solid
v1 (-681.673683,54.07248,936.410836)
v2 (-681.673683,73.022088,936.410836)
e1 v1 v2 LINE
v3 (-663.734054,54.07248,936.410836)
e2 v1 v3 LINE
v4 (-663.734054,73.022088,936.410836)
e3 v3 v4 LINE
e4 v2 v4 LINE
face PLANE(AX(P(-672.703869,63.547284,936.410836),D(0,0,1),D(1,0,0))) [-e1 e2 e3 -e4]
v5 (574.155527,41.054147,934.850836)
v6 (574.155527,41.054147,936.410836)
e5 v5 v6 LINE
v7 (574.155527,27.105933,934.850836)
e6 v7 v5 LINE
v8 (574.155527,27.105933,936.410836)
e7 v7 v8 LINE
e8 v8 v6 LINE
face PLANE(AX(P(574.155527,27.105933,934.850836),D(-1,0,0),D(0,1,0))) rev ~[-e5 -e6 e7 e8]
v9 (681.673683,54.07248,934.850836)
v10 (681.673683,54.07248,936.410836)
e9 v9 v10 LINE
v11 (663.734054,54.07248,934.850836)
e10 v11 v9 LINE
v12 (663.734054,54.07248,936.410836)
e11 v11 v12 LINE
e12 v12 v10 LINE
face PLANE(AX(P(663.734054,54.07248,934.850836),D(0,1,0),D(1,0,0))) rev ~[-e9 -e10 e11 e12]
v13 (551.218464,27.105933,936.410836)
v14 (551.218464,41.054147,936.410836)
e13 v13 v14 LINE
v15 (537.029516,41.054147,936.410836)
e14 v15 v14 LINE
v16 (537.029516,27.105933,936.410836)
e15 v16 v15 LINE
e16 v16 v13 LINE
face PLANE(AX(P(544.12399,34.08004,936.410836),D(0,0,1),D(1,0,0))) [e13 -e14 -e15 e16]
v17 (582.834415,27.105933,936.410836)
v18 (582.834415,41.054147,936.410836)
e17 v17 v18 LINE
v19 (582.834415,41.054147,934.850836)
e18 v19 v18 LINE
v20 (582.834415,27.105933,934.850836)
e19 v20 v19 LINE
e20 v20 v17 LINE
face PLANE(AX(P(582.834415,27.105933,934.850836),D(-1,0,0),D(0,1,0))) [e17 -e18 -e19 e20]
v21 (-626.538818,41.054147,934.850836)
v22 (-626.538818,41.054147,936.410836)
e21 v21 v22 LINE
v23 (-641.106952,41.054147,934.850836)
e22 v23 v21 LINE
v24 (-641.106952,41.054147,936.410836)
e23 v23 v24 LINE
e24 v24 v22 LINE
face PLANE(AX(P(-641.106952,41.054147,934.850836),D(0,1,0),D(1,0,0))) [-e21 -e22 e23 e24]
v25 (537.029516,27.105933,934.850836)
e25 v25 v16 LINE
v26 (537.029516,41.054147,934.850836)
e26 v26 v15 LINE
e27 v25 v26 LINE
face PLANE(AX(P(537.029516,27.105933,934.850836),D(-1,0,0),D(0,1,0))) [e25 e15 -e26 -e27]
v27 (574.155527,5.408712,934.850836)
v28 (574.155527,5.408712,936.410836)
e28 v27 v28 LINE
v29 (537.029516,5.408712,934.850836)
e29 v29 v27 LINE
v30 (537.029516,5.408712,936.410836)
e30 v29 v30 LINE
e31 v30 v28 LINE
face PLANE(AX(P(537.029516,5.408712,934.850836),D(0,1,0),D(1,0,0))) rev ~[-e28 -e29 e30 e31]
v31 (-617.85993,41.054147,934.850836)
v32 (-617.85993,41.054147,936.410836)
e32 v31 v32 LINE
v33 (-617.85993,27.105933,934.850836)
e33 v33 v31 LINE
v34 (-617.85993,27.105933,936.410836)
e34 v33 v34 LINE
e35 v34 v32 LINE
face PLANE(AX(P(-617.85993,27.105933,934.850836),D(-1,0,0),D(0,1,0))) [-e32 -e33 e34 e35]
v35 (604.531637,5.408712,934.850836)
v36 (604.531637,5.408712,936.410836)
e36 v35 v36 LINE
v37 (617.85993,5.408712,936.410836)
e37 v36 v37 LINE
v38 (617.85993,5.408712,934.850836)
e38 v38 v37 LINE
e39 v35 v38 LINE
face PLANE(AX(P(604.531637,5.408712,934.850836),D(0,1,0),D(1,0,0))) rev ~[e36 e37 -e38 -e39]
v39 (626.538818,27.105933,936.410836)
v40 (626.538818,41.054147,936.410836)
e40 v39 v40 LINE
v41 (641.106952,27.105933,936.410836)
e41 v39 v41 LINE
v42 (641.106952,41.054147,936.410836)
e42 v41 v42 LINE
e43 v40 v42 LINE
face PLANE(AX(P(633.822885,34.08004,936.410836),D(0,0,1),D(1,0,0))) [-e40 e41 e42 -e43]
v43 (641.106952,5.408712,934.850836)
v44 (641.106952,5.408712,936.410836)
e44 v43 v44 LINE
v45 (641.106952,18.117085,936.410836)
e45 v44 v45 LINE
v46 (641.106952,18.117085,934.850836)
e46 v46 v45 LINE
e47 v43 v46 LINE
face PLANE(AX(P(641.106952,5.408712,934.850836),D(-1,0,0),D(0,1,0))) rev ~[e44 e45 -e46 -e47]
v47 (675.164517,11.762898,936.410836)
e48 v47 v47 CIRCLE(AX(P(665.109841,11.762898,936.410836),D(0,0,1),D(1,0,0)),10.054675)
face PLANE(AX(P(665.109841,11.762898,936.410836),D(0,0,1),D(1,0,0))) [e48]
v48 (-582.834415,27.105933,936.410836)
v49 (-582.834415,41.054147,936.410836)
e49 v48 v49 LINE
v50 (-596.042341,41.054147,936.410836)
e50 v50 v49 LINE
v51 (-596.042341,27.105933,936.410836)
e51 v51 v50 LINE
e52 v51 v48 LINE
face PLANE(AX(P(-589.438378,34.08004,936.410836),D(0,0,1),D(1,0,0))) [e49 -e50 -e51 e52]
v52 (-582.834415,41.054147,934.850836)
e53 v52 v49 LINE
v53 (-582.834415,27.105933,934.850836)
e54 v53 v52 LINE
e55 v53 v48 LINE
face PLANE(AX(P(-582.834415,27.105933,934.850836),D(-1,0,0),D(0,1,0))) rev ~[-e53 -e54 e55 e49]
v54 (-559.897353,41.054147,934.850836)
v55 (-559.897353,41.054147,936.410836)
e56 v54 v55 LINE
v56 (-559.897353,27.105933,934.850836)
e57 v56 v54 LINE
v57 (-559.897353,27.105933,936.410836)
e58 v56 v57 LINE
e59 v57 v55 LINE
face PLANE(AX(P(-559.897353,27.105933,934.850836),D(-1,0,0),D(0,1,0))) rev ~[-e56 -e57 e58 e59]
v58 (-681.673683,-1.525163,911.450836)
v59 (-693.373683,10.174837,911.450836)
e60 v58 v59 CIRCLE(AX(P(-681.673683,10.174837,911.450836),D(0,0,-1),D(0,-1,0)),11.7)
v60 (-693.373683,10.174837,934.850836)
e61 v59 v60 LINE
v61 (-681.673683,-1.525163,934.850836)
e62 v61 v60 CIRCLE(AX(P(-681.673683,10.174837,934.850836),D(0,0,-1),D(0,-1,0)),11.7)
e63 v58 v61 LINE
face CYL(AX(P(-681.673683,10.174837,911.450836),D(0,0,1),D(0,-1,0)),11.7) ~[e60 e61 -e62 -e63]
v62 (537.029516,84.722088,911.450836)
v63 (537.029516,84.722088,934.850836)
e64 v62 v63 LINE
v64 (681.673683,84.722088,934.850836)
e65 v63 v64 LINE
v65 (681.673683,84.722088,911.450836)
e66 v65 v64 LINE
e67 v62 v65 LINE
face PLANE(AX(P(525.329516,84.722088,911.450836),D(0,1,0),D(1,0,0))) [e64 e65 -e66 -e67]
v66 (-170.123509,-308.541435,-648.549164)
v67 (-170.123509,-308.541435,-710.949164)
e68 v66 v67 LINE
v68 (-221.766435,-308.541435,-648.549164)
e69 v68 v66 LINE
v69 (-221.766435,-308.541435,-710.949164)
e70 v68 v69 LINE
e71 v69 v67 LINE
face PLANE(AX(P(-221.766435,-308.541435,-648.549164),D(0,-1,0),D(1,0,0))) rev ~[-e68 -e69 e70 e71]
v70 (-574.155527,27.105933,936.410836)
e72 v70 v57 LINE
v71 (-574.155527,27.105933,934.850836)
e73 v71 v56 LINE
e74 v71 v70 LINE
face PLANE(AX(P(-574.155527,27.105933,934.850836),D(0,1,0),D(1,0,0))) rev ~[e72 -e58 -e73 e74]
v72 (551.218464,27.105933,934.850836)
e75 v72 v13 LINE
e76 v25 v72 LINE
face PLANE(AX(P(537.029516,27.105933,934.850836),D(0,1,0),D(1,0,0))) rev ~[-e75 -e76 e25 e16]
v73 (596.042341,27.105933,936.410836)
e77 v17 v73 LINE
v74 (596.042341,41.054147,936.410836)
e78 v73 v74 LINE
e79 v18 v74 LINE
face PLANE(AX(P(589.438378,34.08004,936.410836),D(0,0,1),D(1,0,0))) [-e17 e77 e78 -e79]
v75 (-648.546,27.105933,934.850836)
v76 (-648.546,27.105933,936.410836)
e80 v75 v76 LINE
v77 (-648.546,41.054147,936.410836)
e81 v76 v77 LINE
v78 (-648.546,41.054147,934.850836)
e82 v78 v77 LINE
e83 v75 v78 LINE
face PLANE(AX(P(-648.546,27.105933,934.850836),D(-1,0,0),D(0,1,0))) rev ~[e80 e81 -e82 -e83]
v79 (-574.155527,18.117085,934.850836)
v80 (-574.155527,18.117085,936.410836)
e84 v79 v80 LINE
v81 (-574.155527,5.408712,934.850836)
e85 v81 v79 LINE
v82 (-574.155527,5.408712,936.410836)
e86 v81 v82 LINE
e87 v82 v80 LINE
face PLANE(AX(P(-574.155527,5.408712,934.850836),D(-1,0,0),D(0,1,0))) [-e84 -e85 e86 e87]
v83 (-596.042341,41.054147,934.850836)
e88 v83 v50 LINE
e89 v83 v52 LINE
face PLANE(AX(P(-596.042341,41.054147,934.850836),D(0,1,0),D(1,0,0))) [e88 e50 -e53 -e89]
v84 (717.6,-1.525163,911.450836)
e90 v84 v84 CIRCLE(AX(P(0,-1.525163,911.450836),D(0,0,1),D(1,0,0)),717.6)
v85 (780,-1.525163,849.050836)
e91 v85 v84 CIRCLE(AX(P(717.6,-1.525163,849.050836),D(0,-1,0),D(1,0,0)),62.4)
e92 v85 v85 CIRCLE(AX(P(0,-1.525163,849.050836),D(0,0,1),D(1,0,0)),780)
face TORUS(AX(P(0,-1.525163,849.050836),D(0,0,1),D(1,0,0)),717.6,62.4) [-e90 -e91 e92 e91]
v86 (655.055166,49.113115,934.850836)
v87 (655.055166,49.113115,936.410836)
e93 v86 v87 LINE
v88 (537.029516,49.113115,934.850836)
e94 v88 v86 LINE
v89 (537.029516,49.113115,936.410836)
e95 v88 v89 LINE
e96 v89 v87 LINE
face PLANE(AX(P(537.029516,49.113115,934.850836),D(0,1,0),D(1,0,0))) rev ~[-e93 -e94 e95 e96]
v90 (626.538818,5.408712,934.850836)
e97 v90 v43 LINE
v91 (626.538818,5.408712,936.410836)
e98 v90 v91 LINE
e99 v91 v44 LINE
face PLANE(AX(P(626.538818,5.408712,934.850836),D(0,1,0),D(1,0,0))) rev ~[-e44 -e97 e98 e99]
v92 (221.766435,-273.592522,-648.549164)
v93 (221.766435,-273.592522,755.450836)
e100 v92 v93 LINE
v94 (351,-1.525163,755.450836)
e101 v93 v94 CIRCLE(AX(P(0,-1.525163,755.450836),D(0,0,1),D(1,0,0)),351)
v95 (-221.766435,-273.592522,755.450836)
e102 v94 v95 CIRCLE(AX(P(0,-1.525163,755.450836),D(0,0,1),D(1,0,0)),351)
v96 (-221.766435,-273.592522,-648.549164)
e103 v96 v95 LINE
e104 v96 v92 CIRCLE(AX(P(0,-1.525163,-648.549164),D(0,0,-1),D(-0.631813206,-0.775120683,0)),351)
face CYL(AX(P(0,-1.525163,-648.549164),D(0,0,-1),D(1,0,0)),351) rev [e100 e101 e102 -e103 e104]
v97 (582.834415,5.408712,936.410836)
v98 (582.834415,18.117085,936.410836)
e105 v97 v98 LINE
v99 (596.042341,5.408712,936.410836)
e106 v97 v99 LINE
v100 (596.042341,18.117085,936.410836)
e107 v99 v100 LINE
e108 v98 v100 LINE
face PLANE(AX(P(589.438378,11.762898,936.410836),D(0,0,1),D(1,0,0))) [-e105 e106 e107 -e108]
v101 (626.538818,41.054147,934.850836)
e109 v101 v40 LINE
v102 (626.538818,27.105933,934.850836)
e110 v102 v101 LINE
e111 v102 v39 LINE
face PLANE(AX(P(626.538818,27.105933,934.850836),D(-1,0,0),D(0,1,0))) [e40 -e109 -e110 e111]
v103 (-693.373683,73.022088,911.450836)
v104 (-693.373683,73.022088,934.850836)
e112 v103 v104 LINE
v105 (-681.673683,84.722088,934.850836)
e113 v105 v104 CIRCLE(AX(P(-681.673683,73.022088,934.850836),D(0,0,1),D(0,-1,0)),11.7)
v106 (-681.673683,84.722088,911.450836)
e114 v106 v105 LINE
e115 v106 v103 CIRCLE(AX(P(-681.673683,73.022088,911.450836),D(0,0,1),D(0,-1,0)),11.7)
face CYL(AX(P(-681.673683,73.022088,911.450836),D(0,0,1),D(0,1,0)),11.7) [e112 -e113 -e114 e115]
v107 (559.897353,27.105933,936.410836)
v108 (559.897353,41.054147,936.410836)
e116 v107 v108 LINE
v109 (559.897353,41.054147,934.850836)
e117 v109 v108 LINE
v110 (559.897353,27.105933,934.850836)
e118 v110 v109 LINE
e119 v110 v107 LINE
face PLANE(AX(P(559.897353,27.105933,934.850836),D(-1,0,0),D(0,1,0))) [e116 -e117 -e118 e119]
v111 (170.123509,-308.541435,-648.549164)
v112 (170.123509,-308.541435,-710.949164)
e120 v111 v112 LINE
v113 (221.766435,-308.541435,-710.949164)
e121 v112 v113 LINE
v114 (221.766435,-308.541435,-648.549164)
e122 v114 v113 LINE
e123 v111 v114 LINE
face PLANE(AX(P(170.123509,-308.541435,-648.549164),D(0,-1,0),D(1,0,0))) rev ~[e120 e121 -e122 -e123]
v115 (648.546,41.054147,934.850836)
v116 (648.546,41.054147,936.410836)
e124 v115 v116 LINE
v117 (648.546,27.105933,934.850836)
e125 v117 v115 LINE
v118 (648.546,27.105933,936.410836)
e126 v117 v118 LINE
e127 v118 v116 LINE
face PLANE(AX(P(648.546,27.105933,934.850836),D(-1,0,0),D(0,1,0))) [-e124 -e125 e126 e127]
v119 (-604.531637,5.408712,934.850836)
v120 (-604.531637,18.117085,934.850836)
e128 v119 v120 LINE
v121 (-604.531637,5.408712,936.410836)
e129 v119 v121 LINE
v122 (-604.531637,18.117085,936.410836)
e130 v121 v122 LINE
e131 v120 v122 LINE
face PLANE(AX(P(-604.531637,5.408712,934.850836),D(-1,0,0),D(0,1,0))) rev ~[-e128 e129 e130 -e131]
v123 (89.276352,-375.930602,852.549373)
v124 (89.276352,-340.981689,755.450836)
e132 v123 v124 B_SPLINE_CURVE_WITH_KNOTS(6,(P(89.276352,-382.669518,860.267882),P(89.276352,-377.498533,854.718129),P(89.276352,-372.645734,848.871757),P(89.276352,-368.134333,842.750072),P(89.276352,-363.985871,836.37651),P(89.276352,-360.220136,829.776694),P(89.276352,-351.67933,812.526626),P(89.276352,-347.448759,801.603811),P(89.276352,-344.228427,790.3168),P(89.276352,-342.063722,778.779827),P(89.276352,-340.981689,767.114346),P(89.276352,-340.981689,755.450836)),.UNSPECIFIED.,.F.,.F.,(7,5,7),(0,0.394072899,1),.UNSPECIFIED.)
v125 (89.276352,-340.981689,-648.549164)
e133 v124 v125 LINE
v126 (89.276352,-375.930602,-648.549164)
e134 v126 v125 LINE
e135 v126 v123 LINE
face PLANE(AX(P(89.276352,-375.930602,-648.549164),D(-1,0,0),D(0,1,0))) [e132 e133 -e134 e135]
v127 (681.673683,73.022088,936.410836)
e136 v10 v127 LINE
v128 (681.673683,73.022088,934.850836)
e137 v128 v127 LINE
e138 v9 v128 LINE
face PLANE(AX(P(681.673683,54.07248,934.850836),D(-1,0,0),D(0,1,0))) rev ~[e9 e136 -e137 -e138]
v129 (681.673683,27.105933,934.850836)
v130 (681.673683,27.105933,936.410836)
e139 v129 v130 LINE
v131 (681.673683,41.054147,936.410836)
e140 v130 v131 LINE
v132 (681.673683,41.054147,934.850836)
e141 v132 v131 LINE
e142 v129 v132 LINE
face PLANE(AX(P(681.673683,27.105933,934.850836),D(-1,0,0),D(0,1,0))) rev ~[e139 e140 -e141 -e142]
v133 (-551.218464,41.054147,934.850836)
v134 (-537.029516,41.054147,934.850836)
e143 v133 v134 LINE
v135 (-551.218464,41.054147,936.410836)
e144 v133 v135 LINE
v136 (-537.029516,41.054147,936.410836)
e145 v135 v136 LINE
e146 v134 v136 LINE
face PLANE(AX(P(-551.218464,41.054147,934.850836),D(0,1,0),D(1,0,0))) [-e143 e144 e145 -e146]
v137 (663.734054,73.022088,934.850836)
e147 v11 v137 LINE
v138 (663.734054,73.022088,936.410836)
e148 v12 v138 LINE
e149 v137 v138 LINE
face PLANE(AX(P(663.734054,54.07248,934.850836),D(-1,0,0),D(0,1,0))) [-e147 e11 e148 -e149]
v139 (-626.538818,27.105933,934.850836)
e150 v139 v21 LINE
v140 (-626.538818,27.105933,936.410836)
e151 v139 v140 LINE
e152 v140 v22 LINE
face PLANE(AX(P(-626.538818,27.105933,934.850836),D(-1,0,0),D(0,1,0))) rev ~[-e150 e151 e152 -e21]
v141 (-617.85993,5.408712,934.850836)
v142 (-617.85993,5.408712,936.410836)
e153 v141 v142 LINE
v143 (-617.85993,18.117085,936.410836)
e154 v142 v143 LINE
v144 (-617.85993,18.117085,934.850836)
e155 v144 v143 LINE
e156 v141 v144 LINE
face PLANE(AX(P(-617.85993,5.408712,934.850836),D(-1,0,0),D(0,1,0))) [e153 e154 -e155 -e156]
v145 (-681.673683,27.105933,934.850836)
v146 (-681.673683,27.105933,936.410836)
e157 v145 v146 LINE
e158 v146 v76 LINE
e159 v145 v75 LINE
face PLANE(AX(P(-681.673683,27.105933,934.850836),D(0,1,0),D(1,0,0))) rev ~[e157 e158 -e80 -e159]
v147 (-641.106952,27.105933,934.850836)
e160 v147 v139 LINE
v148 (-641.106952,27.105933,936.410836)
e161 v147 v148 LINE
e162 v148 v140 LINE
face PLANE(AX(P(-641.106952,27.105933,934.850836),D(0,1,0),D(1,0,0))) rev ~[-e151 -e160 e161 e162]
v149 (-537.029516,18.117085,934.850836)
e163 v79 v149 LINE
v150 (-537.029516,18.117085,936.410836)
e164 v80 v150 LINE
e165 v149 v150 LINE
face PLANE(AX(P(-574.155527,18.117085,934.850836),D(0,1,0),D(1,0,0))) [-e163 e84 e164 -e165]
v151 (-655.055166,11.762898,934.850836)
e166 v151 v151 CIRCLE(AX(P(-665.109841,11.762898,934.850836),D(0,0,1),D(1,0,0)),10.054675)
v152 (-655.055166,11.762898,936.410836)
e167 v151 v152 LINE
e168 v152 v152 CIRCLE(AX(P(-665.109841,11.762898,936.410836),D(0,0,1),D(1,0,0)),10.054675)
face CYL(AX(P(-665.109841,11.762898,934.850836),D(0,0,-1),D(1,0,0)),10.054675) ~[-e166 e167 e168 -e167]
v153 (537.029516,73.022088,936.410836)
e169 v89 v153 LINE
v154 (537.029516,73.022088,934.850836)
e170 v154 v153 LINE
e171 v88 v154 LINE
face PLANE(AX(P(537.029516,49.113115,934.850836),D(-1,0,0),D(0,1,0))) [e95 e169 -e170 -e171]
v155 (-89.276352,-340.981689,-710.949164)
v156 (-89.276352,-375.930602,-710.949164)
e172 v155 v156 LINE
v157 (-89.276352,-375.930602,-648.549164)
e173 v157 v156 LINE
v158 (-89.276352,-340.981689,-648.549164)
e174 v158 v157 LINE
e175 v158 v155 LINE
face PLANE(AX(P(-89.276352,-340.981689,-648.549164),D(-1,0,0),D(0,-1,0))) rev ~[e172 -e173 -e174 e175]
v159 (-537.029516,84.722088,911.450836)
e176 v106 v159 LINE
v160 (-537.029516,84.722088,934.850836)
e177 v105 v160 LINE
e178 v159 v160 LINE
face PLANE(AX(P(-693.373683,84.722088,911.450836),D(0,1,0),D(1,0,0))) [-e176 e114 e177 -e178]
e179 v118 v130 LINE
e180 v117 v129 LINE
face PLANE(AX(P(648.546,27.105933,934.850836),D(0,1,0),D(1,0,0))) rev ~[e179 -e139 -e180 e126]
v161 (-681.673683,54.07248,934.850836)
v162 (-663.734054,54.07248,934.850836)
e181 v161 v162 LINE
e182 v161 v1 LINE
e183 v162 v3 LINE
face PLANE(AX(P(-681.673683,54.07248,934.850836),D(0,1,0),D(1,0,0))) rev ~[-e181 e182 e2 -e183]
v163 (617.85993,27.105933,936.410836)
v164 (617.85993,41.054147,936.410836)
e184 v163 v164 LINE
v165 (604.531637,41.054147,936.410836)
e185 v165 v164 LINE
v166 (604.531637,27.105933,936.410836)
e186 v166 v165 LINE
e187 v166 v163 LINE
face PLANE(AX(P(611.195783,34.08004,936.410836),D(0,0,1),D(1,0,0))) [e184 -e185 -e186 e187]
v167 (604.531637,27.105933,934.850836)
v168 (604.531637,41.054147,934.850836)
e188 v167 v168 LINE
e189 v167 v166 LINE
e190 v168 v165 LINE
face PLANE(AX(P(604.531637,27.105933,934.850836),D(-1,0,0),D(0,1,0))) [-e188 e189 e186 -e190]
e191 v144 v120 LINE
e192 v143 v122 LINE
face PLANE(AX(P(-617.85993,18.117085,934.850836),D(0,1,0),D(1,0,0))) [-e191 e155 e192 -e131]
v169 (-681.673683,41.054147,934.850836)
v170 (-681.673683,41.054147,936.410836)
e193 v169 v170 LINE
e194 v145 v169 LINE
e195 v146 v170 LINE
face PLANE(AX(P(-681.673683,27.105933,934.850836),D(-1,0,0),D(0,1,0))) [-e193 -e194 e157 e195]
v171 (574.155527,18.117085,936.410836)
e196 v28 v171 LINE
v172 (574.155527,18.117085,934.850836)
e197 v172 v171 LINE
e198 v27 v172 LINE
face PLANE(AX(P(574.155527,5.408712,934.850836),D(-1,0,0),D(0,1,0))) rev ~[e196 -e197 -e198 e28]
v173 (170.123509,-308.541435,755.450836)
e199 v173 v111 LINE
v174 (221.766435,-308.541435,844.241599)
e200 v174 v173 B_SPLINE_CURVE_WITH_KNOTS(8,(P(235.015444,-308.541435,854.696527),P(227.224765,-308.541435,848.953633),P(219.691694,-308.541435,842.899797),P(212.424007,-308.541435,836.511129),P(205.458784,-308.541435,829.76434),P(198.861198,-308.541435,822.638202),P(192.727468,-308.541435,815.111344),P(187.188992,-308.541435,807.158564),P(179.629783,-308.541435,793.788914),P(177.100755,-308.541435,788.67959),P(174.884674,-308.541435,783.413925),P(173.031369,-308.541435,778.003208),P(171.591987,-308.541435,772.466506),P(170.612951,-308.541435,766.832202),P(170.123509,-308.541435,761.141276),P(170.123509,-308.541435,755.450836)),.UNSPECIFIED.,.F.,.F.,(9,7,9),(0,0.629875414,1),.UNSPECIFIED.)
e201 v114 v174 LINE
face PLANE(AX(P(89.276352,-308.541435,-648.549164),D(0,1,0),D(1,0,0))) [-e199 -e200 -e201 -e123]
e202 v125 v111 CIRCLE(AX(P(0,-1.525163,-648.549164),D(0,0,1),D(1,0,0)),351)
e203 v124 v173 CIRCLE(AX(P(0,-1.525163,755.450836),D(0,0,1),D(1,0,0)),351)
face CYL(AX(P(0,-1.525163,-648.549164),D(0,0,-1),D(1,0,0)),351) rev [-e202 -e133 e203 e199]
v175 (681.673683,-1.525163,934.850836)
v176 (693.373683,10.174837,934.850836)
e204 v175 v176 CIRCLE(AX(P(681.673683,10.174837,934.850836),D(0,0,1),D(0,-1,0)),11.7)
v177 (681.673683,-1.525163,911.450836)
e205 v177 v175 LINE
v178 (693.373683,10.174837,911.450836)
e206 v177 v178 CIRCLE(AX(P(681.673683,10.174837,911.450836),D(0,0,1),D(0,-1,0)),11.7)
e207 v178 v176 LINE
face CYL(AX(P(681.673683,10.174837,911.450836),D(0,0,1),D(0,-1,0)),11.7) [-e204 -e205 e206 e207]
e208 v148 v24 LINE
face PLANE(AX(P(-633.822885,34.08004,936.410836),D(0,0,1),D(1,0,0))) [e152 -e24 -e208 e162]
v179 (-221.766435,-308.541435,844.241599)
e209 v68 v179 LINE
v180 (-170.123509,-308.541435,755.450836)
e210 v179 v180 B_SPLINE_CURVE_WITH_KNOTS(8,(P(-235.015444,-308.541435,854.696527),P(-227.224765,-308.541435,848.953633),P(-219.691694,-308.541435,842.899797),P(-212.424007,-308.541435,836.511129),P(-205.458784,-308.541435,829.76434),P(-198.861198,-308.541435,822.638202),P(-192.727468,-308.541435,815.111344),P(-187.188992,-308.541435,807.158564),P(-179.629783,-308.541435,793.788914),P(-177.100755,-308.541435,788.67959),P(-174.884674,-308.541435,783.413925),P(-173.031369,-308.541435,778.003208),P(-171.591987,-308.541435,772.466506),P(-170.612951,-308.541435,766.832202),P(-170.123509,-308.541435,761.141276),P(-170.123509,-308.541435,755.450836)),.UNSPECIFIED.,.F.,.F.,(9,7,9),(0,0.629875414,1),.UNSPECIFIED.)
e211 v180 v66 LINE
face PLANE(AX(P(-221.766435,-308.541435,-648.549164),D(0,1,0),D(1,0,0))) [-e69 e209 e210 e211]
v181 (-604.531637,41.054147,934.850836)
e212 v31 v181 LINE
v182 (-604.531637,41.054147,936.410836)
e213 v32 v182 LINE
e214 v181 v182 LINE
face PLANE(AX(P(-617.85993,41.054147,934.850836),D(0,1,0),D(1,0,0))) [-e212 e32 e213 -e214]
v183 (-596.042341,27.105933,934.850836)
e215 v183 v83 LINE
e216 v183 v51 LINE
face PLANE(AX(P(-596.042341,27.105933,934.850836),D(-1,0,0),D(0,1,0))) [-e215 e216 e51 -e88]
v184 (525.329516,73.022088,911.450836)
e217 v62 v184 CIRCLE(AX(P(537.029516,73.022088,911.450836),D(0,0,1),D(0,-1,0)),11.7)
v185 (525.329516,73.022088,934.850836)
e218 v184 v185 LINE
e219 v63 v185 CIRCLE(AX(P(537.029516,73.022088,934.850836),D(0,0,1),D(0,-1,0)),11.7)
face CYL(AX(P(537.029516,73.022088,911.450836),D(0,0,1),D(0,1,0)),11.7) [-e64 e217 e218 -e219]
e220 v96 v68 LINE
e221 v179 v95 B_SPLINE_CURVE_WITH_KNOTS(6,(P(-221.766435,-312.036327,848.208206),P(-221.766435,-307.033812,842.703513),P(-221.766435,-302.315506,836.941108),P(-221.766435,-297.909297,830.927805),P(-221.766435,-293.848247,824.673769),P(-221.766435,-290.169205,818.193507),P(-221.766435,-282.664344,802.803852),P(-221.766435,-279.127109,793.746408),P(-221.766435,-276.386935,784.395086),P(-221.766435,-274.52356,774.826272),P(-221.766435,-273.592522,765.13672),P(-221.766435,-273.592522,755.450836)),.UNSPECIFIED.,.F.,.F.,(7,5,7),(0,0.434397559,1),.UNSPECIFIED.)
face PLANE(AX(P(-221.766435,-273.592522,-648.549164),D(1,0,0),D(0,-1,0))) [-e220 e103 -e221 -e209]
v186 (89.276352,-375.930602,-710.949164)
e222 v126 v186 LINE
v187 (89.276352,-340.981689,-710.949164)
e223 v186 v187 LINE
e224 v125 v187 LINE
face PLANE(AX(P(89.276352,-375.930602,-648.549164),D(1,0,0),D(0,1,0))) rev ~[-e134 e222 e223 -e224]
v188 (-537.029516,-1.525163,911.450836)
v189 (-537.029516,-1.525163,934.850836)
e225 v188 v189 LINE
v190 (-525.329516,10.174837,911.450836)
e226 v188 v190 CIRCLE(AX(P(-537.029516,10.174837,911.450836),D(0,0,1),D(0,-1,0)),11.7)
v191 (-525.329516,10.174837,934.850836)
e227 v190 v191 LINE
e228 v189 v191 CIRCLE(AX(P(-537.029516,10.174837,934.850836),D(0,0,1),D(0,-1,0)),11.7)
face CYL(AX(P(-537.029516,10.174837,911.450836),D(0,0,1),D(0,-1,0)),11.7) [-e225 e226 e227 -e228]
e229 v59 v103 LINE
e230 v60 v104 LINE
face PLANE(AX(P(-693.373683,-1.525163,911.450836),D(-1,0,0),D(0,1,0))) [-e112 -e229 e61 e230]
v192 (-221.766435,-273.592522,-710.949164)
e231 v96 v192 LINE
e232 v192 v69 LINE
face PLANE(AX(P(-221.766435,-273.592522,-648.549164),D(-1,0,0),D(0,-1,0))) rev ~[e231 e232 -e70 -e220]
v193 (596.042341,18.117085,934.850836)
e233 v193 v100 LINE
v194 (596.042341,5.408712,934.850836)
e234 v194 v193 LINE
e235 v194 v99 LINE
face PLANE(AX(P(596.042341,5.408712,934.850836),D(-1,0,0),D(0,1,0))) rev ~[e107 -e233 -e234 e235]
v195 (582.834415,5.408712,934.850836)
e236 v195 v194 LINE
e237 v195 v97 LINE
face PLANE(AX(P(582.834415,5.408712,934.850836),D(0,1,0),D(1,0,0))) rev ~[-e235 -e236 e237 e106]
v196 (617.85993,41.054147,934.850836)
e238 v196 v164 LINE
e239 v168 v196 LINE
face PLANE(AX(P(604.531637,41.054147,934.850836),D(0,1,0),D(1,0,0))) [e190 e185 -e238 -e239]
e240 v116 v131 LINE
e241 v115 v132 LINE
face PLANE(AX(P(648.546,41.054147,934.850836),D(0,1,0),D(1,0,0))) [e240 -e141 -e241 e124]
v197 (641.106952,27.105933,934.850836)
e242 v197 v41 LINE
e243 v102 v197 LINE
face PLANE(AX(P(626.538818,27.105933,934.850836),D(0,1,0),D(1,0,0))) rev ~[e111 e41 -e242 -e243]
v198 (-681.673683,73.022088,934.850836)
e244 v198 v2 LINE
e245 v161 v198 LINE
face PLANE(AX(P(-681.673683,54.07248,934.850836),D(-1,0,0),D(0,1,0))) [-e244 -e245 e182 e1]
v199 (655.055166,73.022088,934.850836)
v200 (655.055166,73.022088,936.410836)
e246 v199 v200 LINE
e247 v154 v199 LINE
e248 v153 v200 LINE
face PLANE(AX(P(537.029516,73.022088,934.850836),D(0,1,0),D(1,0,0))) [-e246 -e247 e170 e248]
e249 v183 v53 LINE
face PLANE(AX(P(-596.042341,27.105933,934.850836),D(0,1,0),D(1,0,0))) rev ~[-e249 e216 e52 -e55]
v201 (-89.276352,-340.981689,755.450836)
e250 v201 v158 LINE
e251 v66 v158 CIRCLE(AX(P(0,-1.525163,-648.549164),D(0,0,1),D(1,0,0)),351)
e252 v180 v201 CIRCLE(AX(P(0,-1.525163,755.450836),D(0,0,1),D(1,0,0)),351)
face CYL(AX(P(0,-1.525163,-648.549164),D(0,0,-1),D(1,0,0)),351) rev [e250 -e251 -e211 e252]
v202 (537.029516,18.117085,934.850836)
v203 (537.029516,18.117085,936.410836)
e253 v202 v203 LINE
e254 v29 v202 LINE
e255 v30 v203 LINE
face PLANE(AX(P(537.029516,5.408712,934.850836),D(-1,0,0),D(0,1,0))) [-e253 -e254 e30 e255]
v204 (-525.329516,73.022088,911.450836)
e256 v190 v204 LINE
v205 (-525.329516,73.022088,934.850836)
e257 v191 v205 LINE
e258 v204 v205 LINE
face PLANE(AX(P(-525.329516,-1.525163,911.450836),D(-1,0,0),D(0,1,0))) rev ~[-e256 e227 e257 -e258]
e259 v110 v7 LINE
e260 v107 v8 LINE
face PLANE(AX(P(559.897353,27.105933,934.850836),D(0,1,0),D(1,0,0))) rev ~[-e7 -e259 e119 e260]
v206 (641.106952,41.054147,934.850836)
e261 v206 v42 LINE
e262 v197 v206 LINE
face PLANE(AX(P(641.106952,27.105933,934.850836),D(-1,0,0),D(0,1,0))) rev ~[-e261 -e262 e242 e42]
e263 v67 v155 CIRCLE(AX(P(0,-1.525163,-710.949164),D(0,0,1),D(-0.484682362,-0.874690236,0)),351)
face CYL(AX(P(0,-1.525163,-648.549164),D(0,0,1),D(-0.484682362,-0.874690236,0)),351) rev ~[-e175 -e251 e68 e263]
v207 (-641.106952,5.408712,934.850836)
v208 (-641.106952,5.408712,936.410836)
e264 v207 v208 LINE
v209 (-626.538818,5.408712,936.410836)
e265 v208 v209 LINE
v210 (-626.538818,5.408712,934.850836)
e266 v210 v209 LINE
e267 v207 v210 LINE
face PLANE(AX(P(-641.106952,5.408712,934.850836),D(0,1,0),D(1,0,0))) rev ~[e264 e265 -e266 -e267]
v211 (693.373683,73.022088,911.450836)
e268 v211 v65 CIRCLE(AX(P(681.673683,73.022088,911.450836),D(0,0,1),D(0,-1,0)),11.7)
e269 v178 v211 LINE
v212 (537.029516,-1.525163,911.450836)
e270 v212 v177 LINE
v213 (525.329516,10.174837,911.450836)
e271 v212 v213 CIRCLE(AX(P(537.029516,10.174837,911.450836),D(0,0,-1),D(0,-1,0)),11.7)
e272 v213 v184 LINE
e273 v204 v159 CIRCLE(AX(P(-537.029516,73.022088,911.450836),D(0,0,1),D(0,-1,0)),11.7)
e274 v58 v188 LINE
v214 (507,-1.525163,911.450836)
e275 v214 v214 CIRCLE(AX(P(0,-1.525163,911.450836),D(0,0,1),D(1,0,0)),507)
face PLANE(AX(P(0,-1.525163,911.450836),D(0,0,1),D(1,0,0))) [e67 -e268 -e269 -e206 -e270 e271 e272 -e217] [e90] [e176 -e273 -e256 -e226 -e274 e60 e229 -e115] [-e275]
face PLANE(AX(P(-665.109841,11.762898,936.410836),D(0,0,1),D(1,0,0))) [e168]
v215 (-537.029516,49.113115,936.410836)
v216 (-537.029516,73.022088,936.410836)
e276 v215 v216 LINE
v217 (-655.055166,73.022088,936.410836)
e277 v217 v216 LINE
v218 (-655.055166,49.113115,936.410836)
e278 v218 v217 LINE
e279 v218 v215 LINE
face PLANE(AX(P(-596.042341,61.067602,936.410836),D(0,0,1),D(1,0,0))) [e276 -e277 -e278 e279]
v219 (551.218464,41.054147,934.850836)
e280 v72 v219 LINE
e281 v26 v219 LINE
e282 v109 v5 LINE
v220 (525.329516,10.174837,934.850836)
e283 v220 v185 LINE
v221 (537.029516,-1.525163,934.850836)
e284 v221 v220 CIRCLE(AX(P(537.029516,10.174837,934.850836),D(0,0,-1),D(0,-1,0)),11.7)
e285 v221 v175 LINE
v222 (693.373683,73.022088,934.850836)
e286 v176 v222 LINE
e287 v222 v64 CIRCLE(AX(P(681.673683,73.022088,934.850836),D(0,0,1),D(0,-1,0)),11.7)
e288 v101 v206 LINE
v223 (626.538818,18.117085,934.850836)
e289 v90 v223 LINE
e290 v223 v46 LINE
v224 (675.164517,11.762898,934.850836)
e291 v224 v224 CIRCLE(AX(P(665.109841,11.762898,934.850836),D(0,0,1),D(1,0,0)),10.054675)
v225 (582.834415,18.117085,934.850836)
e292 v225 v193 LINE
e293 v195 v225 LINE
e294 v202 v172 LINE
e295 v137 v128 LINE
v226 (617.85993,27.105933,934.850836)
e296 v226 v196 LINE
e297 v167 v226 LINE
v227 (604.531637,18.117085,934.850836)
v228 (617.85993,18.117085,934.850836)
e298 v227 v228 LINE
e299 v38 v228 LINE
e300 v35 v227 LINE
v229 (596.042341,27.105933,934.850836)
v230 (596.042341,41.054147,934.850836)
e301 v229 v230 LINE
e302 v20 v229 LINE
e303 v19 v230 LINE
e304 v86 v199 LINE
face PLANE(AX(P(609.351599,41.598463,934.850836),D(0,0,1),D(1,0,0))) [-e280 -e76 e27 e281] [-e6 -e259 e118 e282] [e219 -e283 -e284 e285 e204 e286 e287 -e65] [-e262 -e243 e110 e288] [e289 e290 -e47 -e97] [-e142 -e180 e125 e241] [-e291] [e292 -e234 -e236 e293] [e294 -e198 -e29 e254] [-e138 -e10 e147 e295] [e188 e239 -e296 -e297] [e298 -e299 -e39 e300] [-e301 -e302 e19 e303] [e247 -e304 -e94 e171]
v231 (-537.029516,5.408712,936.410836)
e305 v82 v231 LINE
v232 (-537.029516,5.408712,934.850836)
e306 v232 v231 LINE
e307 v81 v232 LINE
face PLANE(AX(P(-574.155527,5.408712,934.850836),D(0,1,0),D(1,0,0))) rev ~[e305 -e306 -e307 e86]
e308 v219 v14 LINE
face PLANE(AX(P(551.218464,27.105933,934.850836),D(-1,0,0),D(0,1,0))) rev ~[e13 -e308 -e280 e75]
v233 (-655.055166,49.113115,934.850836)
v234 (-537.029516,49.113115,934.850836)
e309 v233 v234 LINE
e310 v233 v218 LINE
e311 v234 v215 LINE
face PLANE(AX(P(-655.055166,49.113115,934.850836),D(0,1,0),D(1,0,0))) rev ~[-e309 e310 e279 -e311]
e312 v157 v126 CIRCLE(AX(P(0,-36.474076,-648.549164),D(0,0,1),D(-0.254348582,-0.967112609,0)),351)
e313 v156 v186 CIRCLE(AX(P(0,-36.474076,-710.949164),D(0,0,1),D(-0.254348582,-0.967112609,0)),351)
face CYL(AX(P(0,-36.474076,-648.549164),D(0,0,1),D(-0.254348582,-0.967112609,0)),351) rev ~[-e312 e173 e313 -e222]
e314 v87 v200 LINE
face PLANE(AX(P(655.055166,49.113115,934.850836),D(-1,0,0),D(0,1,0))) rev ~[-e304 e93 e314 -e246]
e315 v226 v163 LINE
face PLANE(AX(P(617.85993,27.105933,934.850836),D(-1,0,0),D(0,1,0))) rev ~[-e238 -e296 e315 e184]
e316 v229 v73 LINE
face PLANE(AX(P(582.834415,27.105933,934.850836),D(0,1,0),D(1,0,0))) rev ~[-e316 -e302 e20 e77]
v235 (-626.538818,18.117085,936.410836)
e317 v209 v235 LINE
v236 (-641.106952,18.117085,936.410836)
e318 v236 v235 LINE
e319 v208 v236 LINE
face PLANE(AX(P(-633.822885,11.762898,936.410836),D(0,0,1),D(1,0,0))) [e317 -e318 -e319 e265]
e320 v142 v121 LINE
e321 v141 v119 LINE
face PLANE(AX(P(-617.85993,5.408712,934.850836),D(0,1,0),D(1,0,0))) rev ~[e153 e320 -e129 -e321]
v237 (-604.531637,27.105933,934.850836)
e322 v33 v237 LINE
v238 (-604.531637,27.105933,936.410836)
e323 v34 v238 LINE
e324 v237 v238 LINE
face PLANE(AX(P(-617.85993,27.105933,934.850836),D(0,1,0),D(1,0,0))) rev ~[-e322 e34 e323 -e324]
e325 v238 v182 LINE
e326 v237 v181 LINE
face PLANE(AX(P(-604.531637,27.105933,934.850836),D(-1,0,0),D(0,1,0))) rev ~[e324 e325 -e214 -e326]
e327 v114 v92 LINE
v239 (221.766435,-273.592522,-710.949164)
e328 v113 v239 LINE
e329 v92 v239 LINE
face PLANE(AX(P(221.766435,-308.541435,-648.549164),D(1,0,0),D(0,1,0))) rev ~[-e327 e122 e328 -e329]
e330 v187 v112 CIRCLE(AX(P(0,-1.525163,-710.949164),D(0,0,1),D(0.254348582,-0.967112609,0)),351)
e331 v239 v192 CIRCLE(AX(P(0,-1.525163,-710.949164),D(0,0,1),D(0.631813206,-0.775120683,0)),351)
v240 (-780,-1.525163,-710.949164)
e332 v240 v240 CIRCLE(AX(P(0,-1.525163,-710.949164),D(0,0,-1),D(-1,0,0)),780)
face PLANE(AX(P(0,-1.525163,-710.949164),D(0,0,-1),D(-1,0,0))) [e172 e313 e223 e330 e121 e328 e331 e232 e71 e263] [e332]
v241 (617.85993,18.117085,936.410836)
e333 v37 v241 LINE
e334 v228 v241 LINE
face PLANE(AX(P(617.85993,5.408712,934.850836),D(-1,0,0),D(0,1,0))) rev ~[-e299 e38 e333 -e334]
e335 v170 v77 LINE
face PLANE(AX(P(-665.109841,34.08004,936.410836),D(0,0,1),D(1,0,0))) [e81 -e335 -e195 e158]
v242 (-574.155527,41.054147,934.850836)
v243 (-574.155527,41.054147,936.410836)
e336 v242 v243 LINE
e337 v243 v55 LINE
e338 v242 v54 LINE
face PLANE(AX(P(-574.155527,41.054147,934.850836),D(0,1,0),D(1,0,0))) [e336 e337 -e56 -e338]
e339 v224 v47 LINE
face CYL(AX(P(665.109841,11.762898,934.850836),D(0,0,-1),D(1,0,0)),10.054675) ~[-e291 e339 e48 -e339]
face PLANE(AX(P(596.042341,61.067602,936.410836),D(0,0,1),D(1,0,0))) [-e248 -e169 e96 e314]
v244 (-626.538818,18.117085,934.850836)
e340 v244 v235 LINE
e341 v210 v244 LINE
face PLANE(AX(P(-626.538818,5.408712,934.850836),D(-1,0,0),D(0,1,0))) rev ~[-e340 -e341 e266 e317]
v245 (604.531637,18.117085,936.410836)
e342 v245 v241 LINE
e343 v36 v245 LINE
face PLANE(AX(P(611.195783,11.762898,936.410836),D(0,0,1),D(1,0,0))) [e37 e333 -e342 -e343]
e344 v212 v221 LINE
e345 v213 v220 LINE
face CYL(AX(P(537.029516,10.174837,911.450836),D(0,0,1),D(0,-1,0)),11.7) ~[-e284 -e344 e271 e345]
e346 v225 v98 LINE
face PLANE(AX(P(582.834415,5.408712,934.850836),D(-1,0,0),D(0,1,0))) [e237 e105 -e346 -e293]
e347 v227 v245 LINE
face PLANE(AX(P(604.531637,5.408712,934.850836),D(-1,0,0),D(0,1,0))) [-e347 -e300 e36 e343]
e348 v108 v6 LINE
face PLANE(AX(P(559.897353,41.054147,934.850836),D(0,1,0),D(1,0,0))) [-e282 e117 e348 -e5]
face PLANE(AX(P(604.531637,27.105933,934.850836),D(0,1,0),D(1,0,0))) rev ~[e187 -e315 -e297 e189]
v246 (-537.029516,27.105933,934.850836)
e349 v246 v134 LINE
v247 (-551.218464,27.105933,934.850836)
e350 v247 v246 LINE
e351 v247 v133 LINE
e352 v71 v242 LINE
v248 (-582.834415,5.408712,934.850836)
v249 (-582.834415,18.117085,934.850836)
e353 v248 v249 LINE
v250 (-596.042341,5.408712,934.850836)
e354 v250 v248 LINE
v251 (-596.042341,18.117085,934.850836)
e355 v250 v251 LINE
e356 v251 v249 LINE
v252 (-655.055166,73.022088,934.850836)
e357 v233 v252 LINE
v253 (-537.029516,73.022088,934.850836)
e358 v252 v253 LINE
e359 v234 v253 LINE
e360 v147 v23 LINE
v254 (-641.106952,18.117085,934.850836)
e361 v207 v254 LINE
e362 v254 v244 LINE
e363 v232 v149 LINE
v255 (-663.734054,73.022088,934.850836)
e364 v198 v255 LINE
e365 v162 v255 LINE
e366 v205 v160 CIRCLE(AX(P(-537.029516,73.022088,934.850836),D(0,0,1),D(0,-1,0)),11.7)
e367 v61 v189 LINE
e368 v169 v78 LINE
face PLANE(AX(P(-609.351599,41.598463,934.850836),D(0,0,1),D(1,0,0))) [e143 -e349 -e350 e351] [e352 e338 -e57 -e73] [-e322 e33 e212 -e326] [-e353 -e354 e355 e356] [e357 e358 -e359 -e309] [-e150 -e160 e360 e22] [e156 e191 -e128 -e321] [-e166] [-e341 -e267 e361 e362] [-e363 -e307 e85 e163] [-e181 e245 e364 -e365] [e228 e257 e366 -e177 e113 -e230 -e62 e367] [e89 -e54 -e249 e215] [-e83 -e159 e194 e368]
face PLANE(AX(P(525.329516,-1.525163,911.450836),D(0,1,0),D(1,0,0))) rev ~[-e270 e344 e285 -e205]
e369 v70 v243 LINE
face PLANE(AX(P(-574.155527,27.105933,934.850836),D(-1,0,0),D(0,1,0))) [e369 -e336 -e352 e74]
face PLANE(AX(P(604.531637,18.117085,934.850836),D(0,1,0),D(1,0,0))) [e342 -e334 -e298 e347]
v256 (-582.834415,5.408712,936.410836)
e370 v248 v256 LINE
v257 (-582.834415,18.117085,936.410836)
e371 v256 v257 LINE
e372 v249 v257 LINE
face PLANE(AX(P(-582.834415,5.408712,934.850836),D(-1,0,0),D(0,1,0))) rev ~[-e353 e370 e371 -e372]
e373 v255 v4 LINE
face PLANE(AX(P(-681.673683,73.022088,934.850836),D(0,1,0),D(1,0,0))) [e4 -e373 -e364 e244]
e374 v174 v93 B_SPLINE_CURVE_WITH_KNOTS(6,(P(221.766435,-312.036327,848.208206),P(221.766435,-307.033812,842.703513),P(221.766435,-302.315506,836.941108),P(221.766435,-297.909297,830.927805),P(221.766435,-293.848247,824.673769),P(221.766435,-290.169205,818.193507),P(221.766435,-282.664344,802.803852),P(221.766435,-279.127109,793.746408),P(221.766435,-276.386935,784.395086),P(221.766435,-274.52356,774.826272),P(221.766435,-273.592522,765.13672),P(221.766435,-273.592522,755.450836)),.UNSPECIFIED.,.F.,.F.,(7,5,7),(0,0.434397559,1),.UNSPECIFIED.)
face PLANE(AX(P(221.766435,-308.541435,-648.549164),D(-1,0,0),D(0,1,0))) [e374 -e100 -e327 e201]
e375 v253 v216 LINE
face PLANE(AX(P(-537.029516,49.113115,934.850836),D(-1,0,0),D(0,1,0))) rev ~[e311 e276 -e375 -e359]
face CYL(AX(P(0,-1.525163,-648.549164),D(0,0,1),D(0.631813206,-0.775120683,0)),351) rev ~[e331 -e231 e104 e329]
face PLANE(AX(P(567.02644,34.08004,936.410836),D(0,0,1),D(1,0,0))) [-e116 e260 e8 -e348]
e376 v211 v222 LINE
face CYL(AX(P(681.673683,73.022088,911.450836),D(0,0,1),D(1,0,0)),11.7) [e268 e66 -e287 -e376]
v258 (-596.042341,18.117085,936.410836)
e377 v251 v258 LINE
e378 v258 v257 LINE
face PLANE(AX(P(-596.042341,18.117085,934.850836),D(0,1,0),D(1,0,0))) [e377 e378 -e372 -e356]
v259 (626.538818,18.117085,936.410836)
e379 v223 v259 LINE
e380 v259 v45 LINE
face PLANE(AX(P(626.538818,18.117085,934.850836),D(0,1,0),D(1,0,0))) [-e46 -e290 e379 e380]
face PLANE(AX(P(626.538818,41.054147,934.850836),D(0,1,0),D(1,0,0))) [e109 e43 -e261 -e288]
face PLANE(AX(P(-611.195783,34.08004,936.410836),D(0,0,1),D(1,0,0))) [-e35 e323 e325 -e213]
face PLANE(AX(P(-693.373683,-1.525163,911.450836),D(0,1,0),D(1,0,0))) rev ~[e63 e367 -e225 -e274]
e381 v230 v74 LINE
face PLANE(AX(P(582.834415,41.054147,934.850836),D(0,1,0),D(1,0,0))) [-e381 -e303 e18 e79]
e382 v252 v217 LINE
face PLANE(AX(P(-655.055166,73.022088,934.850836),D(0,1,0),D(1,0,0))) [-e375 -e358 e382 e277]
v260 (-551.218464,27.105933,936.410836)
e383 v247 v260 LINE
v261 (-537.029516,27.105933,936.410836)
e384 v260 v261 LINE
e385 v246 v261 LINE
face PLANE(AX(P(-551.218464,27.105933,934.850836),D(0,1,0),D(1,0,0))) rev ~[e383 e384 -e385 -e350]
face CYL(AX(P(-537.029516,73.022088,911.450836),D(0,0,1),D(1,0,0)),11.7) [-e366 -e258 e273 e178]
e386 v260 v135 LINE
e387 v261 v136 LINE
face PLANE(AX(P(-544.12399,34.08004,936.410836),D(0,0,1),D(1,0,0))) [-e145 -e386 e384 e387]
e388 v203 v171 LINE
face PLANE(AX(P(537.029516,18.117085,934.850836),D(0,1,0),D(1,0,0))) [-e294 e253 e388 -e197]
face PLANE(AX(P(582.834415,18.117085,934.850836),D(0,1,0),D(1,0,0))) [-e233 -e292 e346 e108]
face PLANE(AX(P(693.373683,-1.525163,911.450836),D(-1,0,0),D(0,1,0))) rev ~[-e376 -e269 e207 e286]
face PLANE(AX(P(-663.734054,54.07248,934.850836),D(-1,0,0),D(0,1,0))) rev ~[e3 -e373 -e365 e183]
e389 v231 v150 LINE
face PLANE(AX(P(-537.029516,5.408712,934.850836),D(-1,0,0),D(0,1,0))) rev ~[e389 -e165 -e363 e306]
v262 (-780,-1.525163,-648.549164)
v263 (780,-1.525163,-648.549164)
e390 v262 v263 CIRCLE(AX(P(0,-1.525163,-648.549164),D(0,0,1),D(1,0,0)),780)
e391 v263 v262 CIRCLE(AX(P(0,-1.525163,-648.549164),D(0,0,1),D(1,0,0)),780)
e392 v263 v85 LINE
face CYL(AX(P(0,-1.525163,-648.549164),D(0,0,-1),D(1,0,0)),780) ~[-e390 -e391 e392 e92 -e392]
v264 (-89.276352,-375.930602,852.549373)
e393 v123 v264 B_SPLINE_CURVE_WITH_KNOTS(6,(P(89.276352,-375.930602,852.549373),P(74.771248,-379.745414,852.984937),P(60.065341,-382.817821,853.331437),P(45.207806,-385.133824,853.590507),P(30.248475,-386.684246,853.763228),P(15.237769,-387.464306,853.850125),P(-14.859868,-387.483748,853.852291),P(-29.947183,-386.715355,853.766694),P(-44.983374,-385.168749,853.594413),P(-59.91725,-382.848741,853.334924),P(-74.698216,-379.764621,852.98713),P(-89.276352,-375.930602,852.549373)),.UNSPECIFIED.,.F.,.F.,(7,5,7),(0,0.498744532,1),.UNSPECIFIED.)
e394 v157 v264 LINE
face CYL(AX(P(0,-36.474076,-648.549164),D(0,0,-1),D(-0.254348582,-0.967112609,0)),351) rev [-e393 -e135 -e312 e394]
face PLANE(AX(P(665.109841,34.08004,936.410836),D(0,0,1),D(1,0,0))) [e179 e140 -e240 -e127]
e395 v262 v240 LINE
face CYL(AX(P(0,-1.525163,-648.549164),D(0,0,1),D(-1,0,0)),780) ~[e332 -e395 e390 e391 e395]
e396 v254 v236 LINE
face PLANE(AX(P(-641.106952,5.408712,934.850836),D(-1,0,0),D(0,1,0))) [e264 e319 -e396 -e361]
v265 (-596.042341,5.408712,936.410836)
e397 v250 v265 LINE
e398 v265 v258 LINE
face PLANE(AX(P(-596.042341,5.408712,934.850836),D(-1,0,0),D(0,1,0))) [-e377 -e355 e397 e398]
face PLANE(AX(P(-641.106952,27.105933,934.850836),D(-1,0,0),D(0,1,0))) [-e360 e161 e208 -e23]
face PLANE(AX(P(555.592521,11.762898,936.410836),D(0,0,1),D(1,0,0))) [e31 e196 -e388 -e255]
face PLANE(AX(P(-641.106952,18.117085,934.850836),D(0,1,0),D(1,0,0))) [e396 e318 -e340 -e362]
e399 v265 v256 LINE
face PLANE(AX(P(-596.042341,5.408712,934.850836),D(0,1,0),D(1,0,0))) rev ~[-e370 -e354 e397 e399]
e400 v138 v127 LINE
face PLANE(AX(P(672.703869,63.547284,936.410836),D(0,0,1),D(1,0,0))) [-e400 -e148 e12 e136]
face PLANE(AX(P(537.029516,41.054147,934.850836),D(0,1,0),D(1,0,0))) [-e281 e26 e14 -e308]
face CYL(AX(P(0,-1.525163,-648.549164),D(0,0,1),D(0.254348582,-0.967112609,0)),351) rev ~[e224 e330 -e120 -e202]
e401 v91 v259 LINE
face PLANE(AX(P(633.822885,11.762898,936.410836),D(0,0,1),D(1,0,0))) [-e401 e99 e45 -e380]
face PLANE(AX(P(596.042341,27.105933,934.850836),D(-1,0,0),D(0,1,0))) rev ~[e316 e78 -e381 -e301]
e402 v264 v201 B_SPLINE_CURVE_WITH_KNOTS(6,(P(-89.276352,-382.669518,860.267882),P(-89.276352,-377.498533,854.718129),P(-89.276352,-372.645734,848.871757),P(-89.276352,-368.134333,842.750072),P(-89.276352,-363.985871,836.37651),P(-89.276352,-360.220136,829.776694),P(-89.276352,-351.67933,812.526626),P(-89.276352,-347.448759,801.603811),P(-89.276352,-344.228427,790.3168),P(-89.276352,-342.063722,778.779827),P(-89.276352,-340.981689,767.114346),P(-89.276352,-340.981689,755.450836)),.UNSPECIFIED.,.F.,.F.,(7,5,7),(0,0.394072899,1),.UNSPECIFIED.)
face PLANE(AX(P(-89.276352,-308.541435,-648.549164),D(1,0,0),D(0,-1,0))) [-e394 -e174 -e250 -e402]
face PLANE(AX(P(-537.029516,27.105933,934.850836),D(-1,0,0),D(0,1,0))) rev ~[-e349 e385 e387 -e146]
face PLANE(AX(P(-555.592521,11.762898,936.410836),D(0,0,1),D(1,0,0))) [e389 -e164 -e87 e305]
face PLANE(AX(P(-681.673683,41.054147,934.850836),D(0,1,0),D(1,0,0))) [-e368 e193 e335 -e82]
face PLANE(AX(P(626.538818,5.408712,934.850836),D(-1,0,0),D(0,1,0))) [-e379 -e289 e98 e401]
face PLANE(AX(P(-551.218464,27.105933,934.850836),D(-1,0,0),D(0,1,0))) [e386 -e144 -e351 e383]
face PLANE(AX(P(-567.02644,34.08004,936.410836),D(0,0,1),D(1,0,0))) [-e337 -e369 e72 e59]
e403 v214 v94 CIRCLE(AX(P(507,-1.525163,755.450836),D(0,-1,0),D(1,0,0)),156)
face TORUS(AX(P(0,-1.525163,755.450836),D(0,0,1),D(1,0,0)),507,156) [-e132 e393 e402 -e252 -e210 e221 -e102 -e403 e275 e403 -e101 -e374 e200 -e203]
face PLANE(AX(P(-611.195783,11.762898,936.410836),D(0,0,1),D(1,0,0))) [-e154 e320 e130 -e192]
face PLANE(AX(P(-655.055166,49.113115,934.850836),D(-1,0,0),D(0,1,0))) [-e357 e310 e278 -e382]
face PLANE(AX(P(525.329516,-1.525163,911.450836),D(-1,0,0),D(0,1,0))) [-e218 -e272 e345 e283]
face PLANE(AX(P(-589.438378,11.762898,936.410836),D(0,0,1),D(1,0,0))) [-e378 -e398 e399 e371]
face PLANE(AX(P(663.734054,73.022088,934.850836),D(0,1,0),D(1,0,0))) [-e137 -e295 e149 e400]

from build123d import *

# Parameters (mm, degrees)
SKETCH1_R           = 100
SKETCH1_R_2         = 45
BOSS_EXTRUDE1_DEPTH = 200
FILLET1_R           = 8
FILLET2_R           = 20
CUT_EXTRUDE1_DEPTH  = 200
SKETCH3_W           = 21.544123994
SKETCH3_H           = 11.057339859
BOSS_EXTRUDE2_DEPTH = 3
FILLET3_R           = 1.5
SKETCH4_R           = 1.289060933
SKETCH4_W           = 15.13149362
SKETCH4_H           = 3.065252971
SKETCH4_W_2         = 2.299952362
SKETCH4_H_2         = 2.429436964
SKETCH4_W_3         = 1.819095979
SKETCH4_H_3         = 1.788232519
SKETCH4_W_4         = 1.827971019
SKETCH4_W_5         = 1.693323788
SKETCH4_W_6         = 1.708755518
SKETCH4_W_7         = 1.86770952
SKETCH4_W_8         = 4.247138883
SKETCH4_W_9         = 4.75974501
SKETCH4_H_4         = 1.629278517
BOSS_EXTRUDE3_DEPTH = 0.2
SKETCH5_R           = 100
BOSS_EXTRUDE4_DEPTH = 8
SCALE1_SCALE        = 15.6
SCALE2_SCALE        = 0.5


with BuildPart() as part:
    # Sketch1 → Boss-Extrude1 (new body)
    with BuildSketch(Plane.XY):
        Circle(SKETCH1_R)
        Circle(SKETCH1_R_2, mode=Mode.SUBTRACT)
    extrude(amount=BOSS_EXTRUDE1_DEPTH)

    # Fillet1
    fillet1_edges = [part.edges().sort_by_distance(p)[0] for p in [
        (-100, 0, 200),
    ]]
    fillet(fillet1_edges, radius=FILLET1_R)

    # Fillet2
    fillet2_edges = [part.edges().sort_by_distance(p)[0] for p in [
        (-45, 0, 200),
    ]]
    fillet(fillet2_edges, radius=FILLET2_R)

    # Sketch2 → Cut-Extrude1 (cut)
    with BuildSketch(Plane(origin=(0, 0, 0), x_dir=(-1, 0, 0), z_dir=(0, 0, -1))):
        with BuildLine():
            Line((-28.43159427, -34.880430721), (28.43159427, -34.880430721))
            Line((28.43159427, -34.880430721), (28.43159427, -39.361060603))
            Line((28.43159427, -39.361060603), (11.44568617, -39.361060603))
            Line((11.44568617, -39.361060603), (11.44568617, -48.0006973))
            ThreePointArc((11.44568617, -48.0006973), (0, -49.480629882), (-11.44568617, -48.0006973))
            Line((-11.44568617, -48.0006973), (-11.44568617, -39.361060603))
            Line((-11.44568617, -39.361060603), (-28.43159427, -39.361060603))
            Line((-28.43159427, -39.361060603), (-28.43159427, -34.880430721))
        make_face()
    extrude(amount=-CUT_EXTRUDE1_DEPTH, mode=Mode.SUBTRACT)

    # Sketch3 → Boss-Extrude2 (add)
    with BuildSketch(Plane.XY.offset(200)):
        with Locations((78.121999913, 5.52866993)):
            Rectangle(SKETCH3_W, SKETCH3_H)
        with Locations((-78.121999913, 5.52866993)):
            Rectangle(SKETCH3_W, SKETCH3_H)
    extrude(amount=BOSS_EXTRUDE2_DEPTH)

    # Fillet3
    fillet3_edges = [part.edges().sort_by_distance(p)[0] for p in [
        (67.349937916, 11.057339859, 201.5),
        (67.349937916, 0, 201.5),
        (88.89406191, 0, 201.5),
        (88.89406191, 11.057339859, 201.5),
        (-88.89406191, 0, 201.5),
        (-67.349937916, 0, 201.5),
        (-67.349937916, 11.057339859, 201.5),
        (-88.89406191, 11.057339859, 201.5),
    ]]
    fillet(fillet3_edges, radius=FILLET3_R)

    # Sketch4 → Boss-Extrude3 (add)
    with BuildSketch(Plane.XY.offset(203)):
        with Locations((85.270492468, 1.703597588)):
            Circle(SKETCH4_R)
        with Locations((-85.270492468, 1.703597588)):
            Circle(SKETCH4_R)
        with Locations((76.415684726, 8.024713374)):
            Rectangle(SKETCH4_W, SKETCH4_H)
        with Locations((86.244085729, 8.342621377)):
            Rectangle(SKETCH4_W_2, SKETCH4_H_2)
        with Locations((69.759485906, 4.564769617)):
            Rectangle(SKETCH4_W_3, SKETCH4_H_3)
        with Locations((72.695697416, 4.564769617)):
            Rectangle(SKETCH4_W_4, SKETCH4_H_3)
        with Locations((75.569022832, 4.564769617)):
            Rectangle(SKETCH4_W_5, SKETCH4_H_3)
        with Locations((78.358433726, 4.564769617)):
            Rectangle(SKETCH4_W_6, SKETCH4_H_3)
        with Locations((81.259344257, 4.564769617)):
            Rectangle(SKETCH4_W_7, SKETCH4_H_3)
        with Locations((85.270492469, 4.564769617)):
            Rectangle(SKETCH4_W_8, SKETCH4_H_3)
        with Locations((71.229810421, 1.703597588)):
            Rectangle(SKETCH4_W_9, SKETCH4_H_4)
        with Locations((75.569022832, 1.703597588)):
            Rectangle(SKETCH4_W_5, SKETCH4_H_4)
        with Locations((78.358433726, 1.703597588)):
            Rectangle(SKETCH4_W_6, SKETCH4_H_4)
        with Locations((81.259344257, 1.703597588)):
            Rectangle(SKETCH4_W_7, SKETCH4_H_4)
        with Locations((-81.259344257, 1.703597588)):
            Rectangle(SKETCH4_W_7, SKETCH4_H_4)
        with Locations((-78.358433726, 1.703597588)):
            Rectangle(SKETCH4_W_6, SKETCH4_H_4)
        with Locations((-75.569022832, 1.703597588)):
            Rectangle(SKETCH4_W_5, SKETCH4_H_4)
        with Locations((-71.229810421, 1.703597588)):
            Rectangle(SKETCH4_W_9, SKETCH4_H_4)
        with Locations((-85.270492469, 4.564769617)):
            Rectangle(SKETCH4_W_8, SKETCH4_H_3)
        with Locations((-81.259344257, 4.564769617)):
            Rectangle(SKETCH4_W_7, SKETCH4_H_3)
        with Locations((-78.358433726, 4.564769617)):
            Rectangle(SKETCH4_W_6, SKETCH4_H_3)
        with Locations((-75.569022832, 4.564769617)):
            Rectangle(SKETCH4_W_5, SKETCH4_H_3)
        with Locations((-72.695697416, 4.564769617)):
            Rectangle(SKETCH4_W_4, SKETCH4_H_3)
        with Locations((-69.759485906, 4.564769617)):
            Rectangle(SKETCH4_W_3, SKETCH4_H_3)
        with Locations((-86.244085729, 8.342621377)):
            Rectangle(SKETCH4_W_2, SKETCH4_H_2)
        with Locations((-76.415684726, 8.024713374)):
            Rectangle(SKETCH4_W, SKETCH4_H)
    extrude(amount=BOSS_EXTRUDE3_DEPTH)

    # Sketch5 → Boss-Extrude4 (add)
    with BuildSketch(Plane(origin=(0, 0, 0), x_dir=(-1, 0, 0), z_dir=(0, 0, -1))):
        Circle(SKETCH5_R)
        with BuildLine():
            Line((-28.43159427, -39.361060603), (-28.43159427, -34.880430721))
            ThreePointArc((-28.43159427, -34.880430721), (0, 45), (28.43159427, -34.880430721))
            Line((28.43159427, -34.880430721), (28.43159427, -39.361060603))
            Line((28.43159427, -39.361060603), (21.810706275, -39.361060603))
            ThreePointArc((21.810706275, -39.361060603), (16.757721923, -41.763366195), (11.44568617, -43.520067418))
            Line((11.44568617, -43.520067418), (11.44568617, -45.760382359))
            Line((11.44568617, -45.760382359), (11.44568617, -48.0006973))
            ThreePointArc((11.44568617, -48.0006973), (0, -49.480629882), (-11.44568617, -48.0006973))
            Line((-11.44568617, -48.0006973), (-11.44568617, -43.520067418))
            ThreePointArc((-11.44568617, -43.520067418), (-16.757721923, -41.763366195), (-21.810706275, -39.361060603))
            Line((-21.810706275, -39.361060603), (-28.43159427, -39.361060603))
        make_face(mode=Mode.SUBTRACT)
    extrude(amount=BOSS_EXTRUDE4_DEPTH)


with BuildPart() as part_1:
    # Scale1: scaled about (-1e-09, 0.224288637, 95.374877124)
    add(part.part.scale(SCALE1_SCALE).moved(Location((1.5e-08, -3.2746141, -1392.47320601))))


with BuildPart() as part_2:
    # Scale2: scaled about (-5e-09, 0.224288632, 95.374877131)
    add(part_1.part.scale(SCALE2_SCALE).moved(Location((-3e-09, 0.112144316, 47.687438566))))


solid = part_2.part
